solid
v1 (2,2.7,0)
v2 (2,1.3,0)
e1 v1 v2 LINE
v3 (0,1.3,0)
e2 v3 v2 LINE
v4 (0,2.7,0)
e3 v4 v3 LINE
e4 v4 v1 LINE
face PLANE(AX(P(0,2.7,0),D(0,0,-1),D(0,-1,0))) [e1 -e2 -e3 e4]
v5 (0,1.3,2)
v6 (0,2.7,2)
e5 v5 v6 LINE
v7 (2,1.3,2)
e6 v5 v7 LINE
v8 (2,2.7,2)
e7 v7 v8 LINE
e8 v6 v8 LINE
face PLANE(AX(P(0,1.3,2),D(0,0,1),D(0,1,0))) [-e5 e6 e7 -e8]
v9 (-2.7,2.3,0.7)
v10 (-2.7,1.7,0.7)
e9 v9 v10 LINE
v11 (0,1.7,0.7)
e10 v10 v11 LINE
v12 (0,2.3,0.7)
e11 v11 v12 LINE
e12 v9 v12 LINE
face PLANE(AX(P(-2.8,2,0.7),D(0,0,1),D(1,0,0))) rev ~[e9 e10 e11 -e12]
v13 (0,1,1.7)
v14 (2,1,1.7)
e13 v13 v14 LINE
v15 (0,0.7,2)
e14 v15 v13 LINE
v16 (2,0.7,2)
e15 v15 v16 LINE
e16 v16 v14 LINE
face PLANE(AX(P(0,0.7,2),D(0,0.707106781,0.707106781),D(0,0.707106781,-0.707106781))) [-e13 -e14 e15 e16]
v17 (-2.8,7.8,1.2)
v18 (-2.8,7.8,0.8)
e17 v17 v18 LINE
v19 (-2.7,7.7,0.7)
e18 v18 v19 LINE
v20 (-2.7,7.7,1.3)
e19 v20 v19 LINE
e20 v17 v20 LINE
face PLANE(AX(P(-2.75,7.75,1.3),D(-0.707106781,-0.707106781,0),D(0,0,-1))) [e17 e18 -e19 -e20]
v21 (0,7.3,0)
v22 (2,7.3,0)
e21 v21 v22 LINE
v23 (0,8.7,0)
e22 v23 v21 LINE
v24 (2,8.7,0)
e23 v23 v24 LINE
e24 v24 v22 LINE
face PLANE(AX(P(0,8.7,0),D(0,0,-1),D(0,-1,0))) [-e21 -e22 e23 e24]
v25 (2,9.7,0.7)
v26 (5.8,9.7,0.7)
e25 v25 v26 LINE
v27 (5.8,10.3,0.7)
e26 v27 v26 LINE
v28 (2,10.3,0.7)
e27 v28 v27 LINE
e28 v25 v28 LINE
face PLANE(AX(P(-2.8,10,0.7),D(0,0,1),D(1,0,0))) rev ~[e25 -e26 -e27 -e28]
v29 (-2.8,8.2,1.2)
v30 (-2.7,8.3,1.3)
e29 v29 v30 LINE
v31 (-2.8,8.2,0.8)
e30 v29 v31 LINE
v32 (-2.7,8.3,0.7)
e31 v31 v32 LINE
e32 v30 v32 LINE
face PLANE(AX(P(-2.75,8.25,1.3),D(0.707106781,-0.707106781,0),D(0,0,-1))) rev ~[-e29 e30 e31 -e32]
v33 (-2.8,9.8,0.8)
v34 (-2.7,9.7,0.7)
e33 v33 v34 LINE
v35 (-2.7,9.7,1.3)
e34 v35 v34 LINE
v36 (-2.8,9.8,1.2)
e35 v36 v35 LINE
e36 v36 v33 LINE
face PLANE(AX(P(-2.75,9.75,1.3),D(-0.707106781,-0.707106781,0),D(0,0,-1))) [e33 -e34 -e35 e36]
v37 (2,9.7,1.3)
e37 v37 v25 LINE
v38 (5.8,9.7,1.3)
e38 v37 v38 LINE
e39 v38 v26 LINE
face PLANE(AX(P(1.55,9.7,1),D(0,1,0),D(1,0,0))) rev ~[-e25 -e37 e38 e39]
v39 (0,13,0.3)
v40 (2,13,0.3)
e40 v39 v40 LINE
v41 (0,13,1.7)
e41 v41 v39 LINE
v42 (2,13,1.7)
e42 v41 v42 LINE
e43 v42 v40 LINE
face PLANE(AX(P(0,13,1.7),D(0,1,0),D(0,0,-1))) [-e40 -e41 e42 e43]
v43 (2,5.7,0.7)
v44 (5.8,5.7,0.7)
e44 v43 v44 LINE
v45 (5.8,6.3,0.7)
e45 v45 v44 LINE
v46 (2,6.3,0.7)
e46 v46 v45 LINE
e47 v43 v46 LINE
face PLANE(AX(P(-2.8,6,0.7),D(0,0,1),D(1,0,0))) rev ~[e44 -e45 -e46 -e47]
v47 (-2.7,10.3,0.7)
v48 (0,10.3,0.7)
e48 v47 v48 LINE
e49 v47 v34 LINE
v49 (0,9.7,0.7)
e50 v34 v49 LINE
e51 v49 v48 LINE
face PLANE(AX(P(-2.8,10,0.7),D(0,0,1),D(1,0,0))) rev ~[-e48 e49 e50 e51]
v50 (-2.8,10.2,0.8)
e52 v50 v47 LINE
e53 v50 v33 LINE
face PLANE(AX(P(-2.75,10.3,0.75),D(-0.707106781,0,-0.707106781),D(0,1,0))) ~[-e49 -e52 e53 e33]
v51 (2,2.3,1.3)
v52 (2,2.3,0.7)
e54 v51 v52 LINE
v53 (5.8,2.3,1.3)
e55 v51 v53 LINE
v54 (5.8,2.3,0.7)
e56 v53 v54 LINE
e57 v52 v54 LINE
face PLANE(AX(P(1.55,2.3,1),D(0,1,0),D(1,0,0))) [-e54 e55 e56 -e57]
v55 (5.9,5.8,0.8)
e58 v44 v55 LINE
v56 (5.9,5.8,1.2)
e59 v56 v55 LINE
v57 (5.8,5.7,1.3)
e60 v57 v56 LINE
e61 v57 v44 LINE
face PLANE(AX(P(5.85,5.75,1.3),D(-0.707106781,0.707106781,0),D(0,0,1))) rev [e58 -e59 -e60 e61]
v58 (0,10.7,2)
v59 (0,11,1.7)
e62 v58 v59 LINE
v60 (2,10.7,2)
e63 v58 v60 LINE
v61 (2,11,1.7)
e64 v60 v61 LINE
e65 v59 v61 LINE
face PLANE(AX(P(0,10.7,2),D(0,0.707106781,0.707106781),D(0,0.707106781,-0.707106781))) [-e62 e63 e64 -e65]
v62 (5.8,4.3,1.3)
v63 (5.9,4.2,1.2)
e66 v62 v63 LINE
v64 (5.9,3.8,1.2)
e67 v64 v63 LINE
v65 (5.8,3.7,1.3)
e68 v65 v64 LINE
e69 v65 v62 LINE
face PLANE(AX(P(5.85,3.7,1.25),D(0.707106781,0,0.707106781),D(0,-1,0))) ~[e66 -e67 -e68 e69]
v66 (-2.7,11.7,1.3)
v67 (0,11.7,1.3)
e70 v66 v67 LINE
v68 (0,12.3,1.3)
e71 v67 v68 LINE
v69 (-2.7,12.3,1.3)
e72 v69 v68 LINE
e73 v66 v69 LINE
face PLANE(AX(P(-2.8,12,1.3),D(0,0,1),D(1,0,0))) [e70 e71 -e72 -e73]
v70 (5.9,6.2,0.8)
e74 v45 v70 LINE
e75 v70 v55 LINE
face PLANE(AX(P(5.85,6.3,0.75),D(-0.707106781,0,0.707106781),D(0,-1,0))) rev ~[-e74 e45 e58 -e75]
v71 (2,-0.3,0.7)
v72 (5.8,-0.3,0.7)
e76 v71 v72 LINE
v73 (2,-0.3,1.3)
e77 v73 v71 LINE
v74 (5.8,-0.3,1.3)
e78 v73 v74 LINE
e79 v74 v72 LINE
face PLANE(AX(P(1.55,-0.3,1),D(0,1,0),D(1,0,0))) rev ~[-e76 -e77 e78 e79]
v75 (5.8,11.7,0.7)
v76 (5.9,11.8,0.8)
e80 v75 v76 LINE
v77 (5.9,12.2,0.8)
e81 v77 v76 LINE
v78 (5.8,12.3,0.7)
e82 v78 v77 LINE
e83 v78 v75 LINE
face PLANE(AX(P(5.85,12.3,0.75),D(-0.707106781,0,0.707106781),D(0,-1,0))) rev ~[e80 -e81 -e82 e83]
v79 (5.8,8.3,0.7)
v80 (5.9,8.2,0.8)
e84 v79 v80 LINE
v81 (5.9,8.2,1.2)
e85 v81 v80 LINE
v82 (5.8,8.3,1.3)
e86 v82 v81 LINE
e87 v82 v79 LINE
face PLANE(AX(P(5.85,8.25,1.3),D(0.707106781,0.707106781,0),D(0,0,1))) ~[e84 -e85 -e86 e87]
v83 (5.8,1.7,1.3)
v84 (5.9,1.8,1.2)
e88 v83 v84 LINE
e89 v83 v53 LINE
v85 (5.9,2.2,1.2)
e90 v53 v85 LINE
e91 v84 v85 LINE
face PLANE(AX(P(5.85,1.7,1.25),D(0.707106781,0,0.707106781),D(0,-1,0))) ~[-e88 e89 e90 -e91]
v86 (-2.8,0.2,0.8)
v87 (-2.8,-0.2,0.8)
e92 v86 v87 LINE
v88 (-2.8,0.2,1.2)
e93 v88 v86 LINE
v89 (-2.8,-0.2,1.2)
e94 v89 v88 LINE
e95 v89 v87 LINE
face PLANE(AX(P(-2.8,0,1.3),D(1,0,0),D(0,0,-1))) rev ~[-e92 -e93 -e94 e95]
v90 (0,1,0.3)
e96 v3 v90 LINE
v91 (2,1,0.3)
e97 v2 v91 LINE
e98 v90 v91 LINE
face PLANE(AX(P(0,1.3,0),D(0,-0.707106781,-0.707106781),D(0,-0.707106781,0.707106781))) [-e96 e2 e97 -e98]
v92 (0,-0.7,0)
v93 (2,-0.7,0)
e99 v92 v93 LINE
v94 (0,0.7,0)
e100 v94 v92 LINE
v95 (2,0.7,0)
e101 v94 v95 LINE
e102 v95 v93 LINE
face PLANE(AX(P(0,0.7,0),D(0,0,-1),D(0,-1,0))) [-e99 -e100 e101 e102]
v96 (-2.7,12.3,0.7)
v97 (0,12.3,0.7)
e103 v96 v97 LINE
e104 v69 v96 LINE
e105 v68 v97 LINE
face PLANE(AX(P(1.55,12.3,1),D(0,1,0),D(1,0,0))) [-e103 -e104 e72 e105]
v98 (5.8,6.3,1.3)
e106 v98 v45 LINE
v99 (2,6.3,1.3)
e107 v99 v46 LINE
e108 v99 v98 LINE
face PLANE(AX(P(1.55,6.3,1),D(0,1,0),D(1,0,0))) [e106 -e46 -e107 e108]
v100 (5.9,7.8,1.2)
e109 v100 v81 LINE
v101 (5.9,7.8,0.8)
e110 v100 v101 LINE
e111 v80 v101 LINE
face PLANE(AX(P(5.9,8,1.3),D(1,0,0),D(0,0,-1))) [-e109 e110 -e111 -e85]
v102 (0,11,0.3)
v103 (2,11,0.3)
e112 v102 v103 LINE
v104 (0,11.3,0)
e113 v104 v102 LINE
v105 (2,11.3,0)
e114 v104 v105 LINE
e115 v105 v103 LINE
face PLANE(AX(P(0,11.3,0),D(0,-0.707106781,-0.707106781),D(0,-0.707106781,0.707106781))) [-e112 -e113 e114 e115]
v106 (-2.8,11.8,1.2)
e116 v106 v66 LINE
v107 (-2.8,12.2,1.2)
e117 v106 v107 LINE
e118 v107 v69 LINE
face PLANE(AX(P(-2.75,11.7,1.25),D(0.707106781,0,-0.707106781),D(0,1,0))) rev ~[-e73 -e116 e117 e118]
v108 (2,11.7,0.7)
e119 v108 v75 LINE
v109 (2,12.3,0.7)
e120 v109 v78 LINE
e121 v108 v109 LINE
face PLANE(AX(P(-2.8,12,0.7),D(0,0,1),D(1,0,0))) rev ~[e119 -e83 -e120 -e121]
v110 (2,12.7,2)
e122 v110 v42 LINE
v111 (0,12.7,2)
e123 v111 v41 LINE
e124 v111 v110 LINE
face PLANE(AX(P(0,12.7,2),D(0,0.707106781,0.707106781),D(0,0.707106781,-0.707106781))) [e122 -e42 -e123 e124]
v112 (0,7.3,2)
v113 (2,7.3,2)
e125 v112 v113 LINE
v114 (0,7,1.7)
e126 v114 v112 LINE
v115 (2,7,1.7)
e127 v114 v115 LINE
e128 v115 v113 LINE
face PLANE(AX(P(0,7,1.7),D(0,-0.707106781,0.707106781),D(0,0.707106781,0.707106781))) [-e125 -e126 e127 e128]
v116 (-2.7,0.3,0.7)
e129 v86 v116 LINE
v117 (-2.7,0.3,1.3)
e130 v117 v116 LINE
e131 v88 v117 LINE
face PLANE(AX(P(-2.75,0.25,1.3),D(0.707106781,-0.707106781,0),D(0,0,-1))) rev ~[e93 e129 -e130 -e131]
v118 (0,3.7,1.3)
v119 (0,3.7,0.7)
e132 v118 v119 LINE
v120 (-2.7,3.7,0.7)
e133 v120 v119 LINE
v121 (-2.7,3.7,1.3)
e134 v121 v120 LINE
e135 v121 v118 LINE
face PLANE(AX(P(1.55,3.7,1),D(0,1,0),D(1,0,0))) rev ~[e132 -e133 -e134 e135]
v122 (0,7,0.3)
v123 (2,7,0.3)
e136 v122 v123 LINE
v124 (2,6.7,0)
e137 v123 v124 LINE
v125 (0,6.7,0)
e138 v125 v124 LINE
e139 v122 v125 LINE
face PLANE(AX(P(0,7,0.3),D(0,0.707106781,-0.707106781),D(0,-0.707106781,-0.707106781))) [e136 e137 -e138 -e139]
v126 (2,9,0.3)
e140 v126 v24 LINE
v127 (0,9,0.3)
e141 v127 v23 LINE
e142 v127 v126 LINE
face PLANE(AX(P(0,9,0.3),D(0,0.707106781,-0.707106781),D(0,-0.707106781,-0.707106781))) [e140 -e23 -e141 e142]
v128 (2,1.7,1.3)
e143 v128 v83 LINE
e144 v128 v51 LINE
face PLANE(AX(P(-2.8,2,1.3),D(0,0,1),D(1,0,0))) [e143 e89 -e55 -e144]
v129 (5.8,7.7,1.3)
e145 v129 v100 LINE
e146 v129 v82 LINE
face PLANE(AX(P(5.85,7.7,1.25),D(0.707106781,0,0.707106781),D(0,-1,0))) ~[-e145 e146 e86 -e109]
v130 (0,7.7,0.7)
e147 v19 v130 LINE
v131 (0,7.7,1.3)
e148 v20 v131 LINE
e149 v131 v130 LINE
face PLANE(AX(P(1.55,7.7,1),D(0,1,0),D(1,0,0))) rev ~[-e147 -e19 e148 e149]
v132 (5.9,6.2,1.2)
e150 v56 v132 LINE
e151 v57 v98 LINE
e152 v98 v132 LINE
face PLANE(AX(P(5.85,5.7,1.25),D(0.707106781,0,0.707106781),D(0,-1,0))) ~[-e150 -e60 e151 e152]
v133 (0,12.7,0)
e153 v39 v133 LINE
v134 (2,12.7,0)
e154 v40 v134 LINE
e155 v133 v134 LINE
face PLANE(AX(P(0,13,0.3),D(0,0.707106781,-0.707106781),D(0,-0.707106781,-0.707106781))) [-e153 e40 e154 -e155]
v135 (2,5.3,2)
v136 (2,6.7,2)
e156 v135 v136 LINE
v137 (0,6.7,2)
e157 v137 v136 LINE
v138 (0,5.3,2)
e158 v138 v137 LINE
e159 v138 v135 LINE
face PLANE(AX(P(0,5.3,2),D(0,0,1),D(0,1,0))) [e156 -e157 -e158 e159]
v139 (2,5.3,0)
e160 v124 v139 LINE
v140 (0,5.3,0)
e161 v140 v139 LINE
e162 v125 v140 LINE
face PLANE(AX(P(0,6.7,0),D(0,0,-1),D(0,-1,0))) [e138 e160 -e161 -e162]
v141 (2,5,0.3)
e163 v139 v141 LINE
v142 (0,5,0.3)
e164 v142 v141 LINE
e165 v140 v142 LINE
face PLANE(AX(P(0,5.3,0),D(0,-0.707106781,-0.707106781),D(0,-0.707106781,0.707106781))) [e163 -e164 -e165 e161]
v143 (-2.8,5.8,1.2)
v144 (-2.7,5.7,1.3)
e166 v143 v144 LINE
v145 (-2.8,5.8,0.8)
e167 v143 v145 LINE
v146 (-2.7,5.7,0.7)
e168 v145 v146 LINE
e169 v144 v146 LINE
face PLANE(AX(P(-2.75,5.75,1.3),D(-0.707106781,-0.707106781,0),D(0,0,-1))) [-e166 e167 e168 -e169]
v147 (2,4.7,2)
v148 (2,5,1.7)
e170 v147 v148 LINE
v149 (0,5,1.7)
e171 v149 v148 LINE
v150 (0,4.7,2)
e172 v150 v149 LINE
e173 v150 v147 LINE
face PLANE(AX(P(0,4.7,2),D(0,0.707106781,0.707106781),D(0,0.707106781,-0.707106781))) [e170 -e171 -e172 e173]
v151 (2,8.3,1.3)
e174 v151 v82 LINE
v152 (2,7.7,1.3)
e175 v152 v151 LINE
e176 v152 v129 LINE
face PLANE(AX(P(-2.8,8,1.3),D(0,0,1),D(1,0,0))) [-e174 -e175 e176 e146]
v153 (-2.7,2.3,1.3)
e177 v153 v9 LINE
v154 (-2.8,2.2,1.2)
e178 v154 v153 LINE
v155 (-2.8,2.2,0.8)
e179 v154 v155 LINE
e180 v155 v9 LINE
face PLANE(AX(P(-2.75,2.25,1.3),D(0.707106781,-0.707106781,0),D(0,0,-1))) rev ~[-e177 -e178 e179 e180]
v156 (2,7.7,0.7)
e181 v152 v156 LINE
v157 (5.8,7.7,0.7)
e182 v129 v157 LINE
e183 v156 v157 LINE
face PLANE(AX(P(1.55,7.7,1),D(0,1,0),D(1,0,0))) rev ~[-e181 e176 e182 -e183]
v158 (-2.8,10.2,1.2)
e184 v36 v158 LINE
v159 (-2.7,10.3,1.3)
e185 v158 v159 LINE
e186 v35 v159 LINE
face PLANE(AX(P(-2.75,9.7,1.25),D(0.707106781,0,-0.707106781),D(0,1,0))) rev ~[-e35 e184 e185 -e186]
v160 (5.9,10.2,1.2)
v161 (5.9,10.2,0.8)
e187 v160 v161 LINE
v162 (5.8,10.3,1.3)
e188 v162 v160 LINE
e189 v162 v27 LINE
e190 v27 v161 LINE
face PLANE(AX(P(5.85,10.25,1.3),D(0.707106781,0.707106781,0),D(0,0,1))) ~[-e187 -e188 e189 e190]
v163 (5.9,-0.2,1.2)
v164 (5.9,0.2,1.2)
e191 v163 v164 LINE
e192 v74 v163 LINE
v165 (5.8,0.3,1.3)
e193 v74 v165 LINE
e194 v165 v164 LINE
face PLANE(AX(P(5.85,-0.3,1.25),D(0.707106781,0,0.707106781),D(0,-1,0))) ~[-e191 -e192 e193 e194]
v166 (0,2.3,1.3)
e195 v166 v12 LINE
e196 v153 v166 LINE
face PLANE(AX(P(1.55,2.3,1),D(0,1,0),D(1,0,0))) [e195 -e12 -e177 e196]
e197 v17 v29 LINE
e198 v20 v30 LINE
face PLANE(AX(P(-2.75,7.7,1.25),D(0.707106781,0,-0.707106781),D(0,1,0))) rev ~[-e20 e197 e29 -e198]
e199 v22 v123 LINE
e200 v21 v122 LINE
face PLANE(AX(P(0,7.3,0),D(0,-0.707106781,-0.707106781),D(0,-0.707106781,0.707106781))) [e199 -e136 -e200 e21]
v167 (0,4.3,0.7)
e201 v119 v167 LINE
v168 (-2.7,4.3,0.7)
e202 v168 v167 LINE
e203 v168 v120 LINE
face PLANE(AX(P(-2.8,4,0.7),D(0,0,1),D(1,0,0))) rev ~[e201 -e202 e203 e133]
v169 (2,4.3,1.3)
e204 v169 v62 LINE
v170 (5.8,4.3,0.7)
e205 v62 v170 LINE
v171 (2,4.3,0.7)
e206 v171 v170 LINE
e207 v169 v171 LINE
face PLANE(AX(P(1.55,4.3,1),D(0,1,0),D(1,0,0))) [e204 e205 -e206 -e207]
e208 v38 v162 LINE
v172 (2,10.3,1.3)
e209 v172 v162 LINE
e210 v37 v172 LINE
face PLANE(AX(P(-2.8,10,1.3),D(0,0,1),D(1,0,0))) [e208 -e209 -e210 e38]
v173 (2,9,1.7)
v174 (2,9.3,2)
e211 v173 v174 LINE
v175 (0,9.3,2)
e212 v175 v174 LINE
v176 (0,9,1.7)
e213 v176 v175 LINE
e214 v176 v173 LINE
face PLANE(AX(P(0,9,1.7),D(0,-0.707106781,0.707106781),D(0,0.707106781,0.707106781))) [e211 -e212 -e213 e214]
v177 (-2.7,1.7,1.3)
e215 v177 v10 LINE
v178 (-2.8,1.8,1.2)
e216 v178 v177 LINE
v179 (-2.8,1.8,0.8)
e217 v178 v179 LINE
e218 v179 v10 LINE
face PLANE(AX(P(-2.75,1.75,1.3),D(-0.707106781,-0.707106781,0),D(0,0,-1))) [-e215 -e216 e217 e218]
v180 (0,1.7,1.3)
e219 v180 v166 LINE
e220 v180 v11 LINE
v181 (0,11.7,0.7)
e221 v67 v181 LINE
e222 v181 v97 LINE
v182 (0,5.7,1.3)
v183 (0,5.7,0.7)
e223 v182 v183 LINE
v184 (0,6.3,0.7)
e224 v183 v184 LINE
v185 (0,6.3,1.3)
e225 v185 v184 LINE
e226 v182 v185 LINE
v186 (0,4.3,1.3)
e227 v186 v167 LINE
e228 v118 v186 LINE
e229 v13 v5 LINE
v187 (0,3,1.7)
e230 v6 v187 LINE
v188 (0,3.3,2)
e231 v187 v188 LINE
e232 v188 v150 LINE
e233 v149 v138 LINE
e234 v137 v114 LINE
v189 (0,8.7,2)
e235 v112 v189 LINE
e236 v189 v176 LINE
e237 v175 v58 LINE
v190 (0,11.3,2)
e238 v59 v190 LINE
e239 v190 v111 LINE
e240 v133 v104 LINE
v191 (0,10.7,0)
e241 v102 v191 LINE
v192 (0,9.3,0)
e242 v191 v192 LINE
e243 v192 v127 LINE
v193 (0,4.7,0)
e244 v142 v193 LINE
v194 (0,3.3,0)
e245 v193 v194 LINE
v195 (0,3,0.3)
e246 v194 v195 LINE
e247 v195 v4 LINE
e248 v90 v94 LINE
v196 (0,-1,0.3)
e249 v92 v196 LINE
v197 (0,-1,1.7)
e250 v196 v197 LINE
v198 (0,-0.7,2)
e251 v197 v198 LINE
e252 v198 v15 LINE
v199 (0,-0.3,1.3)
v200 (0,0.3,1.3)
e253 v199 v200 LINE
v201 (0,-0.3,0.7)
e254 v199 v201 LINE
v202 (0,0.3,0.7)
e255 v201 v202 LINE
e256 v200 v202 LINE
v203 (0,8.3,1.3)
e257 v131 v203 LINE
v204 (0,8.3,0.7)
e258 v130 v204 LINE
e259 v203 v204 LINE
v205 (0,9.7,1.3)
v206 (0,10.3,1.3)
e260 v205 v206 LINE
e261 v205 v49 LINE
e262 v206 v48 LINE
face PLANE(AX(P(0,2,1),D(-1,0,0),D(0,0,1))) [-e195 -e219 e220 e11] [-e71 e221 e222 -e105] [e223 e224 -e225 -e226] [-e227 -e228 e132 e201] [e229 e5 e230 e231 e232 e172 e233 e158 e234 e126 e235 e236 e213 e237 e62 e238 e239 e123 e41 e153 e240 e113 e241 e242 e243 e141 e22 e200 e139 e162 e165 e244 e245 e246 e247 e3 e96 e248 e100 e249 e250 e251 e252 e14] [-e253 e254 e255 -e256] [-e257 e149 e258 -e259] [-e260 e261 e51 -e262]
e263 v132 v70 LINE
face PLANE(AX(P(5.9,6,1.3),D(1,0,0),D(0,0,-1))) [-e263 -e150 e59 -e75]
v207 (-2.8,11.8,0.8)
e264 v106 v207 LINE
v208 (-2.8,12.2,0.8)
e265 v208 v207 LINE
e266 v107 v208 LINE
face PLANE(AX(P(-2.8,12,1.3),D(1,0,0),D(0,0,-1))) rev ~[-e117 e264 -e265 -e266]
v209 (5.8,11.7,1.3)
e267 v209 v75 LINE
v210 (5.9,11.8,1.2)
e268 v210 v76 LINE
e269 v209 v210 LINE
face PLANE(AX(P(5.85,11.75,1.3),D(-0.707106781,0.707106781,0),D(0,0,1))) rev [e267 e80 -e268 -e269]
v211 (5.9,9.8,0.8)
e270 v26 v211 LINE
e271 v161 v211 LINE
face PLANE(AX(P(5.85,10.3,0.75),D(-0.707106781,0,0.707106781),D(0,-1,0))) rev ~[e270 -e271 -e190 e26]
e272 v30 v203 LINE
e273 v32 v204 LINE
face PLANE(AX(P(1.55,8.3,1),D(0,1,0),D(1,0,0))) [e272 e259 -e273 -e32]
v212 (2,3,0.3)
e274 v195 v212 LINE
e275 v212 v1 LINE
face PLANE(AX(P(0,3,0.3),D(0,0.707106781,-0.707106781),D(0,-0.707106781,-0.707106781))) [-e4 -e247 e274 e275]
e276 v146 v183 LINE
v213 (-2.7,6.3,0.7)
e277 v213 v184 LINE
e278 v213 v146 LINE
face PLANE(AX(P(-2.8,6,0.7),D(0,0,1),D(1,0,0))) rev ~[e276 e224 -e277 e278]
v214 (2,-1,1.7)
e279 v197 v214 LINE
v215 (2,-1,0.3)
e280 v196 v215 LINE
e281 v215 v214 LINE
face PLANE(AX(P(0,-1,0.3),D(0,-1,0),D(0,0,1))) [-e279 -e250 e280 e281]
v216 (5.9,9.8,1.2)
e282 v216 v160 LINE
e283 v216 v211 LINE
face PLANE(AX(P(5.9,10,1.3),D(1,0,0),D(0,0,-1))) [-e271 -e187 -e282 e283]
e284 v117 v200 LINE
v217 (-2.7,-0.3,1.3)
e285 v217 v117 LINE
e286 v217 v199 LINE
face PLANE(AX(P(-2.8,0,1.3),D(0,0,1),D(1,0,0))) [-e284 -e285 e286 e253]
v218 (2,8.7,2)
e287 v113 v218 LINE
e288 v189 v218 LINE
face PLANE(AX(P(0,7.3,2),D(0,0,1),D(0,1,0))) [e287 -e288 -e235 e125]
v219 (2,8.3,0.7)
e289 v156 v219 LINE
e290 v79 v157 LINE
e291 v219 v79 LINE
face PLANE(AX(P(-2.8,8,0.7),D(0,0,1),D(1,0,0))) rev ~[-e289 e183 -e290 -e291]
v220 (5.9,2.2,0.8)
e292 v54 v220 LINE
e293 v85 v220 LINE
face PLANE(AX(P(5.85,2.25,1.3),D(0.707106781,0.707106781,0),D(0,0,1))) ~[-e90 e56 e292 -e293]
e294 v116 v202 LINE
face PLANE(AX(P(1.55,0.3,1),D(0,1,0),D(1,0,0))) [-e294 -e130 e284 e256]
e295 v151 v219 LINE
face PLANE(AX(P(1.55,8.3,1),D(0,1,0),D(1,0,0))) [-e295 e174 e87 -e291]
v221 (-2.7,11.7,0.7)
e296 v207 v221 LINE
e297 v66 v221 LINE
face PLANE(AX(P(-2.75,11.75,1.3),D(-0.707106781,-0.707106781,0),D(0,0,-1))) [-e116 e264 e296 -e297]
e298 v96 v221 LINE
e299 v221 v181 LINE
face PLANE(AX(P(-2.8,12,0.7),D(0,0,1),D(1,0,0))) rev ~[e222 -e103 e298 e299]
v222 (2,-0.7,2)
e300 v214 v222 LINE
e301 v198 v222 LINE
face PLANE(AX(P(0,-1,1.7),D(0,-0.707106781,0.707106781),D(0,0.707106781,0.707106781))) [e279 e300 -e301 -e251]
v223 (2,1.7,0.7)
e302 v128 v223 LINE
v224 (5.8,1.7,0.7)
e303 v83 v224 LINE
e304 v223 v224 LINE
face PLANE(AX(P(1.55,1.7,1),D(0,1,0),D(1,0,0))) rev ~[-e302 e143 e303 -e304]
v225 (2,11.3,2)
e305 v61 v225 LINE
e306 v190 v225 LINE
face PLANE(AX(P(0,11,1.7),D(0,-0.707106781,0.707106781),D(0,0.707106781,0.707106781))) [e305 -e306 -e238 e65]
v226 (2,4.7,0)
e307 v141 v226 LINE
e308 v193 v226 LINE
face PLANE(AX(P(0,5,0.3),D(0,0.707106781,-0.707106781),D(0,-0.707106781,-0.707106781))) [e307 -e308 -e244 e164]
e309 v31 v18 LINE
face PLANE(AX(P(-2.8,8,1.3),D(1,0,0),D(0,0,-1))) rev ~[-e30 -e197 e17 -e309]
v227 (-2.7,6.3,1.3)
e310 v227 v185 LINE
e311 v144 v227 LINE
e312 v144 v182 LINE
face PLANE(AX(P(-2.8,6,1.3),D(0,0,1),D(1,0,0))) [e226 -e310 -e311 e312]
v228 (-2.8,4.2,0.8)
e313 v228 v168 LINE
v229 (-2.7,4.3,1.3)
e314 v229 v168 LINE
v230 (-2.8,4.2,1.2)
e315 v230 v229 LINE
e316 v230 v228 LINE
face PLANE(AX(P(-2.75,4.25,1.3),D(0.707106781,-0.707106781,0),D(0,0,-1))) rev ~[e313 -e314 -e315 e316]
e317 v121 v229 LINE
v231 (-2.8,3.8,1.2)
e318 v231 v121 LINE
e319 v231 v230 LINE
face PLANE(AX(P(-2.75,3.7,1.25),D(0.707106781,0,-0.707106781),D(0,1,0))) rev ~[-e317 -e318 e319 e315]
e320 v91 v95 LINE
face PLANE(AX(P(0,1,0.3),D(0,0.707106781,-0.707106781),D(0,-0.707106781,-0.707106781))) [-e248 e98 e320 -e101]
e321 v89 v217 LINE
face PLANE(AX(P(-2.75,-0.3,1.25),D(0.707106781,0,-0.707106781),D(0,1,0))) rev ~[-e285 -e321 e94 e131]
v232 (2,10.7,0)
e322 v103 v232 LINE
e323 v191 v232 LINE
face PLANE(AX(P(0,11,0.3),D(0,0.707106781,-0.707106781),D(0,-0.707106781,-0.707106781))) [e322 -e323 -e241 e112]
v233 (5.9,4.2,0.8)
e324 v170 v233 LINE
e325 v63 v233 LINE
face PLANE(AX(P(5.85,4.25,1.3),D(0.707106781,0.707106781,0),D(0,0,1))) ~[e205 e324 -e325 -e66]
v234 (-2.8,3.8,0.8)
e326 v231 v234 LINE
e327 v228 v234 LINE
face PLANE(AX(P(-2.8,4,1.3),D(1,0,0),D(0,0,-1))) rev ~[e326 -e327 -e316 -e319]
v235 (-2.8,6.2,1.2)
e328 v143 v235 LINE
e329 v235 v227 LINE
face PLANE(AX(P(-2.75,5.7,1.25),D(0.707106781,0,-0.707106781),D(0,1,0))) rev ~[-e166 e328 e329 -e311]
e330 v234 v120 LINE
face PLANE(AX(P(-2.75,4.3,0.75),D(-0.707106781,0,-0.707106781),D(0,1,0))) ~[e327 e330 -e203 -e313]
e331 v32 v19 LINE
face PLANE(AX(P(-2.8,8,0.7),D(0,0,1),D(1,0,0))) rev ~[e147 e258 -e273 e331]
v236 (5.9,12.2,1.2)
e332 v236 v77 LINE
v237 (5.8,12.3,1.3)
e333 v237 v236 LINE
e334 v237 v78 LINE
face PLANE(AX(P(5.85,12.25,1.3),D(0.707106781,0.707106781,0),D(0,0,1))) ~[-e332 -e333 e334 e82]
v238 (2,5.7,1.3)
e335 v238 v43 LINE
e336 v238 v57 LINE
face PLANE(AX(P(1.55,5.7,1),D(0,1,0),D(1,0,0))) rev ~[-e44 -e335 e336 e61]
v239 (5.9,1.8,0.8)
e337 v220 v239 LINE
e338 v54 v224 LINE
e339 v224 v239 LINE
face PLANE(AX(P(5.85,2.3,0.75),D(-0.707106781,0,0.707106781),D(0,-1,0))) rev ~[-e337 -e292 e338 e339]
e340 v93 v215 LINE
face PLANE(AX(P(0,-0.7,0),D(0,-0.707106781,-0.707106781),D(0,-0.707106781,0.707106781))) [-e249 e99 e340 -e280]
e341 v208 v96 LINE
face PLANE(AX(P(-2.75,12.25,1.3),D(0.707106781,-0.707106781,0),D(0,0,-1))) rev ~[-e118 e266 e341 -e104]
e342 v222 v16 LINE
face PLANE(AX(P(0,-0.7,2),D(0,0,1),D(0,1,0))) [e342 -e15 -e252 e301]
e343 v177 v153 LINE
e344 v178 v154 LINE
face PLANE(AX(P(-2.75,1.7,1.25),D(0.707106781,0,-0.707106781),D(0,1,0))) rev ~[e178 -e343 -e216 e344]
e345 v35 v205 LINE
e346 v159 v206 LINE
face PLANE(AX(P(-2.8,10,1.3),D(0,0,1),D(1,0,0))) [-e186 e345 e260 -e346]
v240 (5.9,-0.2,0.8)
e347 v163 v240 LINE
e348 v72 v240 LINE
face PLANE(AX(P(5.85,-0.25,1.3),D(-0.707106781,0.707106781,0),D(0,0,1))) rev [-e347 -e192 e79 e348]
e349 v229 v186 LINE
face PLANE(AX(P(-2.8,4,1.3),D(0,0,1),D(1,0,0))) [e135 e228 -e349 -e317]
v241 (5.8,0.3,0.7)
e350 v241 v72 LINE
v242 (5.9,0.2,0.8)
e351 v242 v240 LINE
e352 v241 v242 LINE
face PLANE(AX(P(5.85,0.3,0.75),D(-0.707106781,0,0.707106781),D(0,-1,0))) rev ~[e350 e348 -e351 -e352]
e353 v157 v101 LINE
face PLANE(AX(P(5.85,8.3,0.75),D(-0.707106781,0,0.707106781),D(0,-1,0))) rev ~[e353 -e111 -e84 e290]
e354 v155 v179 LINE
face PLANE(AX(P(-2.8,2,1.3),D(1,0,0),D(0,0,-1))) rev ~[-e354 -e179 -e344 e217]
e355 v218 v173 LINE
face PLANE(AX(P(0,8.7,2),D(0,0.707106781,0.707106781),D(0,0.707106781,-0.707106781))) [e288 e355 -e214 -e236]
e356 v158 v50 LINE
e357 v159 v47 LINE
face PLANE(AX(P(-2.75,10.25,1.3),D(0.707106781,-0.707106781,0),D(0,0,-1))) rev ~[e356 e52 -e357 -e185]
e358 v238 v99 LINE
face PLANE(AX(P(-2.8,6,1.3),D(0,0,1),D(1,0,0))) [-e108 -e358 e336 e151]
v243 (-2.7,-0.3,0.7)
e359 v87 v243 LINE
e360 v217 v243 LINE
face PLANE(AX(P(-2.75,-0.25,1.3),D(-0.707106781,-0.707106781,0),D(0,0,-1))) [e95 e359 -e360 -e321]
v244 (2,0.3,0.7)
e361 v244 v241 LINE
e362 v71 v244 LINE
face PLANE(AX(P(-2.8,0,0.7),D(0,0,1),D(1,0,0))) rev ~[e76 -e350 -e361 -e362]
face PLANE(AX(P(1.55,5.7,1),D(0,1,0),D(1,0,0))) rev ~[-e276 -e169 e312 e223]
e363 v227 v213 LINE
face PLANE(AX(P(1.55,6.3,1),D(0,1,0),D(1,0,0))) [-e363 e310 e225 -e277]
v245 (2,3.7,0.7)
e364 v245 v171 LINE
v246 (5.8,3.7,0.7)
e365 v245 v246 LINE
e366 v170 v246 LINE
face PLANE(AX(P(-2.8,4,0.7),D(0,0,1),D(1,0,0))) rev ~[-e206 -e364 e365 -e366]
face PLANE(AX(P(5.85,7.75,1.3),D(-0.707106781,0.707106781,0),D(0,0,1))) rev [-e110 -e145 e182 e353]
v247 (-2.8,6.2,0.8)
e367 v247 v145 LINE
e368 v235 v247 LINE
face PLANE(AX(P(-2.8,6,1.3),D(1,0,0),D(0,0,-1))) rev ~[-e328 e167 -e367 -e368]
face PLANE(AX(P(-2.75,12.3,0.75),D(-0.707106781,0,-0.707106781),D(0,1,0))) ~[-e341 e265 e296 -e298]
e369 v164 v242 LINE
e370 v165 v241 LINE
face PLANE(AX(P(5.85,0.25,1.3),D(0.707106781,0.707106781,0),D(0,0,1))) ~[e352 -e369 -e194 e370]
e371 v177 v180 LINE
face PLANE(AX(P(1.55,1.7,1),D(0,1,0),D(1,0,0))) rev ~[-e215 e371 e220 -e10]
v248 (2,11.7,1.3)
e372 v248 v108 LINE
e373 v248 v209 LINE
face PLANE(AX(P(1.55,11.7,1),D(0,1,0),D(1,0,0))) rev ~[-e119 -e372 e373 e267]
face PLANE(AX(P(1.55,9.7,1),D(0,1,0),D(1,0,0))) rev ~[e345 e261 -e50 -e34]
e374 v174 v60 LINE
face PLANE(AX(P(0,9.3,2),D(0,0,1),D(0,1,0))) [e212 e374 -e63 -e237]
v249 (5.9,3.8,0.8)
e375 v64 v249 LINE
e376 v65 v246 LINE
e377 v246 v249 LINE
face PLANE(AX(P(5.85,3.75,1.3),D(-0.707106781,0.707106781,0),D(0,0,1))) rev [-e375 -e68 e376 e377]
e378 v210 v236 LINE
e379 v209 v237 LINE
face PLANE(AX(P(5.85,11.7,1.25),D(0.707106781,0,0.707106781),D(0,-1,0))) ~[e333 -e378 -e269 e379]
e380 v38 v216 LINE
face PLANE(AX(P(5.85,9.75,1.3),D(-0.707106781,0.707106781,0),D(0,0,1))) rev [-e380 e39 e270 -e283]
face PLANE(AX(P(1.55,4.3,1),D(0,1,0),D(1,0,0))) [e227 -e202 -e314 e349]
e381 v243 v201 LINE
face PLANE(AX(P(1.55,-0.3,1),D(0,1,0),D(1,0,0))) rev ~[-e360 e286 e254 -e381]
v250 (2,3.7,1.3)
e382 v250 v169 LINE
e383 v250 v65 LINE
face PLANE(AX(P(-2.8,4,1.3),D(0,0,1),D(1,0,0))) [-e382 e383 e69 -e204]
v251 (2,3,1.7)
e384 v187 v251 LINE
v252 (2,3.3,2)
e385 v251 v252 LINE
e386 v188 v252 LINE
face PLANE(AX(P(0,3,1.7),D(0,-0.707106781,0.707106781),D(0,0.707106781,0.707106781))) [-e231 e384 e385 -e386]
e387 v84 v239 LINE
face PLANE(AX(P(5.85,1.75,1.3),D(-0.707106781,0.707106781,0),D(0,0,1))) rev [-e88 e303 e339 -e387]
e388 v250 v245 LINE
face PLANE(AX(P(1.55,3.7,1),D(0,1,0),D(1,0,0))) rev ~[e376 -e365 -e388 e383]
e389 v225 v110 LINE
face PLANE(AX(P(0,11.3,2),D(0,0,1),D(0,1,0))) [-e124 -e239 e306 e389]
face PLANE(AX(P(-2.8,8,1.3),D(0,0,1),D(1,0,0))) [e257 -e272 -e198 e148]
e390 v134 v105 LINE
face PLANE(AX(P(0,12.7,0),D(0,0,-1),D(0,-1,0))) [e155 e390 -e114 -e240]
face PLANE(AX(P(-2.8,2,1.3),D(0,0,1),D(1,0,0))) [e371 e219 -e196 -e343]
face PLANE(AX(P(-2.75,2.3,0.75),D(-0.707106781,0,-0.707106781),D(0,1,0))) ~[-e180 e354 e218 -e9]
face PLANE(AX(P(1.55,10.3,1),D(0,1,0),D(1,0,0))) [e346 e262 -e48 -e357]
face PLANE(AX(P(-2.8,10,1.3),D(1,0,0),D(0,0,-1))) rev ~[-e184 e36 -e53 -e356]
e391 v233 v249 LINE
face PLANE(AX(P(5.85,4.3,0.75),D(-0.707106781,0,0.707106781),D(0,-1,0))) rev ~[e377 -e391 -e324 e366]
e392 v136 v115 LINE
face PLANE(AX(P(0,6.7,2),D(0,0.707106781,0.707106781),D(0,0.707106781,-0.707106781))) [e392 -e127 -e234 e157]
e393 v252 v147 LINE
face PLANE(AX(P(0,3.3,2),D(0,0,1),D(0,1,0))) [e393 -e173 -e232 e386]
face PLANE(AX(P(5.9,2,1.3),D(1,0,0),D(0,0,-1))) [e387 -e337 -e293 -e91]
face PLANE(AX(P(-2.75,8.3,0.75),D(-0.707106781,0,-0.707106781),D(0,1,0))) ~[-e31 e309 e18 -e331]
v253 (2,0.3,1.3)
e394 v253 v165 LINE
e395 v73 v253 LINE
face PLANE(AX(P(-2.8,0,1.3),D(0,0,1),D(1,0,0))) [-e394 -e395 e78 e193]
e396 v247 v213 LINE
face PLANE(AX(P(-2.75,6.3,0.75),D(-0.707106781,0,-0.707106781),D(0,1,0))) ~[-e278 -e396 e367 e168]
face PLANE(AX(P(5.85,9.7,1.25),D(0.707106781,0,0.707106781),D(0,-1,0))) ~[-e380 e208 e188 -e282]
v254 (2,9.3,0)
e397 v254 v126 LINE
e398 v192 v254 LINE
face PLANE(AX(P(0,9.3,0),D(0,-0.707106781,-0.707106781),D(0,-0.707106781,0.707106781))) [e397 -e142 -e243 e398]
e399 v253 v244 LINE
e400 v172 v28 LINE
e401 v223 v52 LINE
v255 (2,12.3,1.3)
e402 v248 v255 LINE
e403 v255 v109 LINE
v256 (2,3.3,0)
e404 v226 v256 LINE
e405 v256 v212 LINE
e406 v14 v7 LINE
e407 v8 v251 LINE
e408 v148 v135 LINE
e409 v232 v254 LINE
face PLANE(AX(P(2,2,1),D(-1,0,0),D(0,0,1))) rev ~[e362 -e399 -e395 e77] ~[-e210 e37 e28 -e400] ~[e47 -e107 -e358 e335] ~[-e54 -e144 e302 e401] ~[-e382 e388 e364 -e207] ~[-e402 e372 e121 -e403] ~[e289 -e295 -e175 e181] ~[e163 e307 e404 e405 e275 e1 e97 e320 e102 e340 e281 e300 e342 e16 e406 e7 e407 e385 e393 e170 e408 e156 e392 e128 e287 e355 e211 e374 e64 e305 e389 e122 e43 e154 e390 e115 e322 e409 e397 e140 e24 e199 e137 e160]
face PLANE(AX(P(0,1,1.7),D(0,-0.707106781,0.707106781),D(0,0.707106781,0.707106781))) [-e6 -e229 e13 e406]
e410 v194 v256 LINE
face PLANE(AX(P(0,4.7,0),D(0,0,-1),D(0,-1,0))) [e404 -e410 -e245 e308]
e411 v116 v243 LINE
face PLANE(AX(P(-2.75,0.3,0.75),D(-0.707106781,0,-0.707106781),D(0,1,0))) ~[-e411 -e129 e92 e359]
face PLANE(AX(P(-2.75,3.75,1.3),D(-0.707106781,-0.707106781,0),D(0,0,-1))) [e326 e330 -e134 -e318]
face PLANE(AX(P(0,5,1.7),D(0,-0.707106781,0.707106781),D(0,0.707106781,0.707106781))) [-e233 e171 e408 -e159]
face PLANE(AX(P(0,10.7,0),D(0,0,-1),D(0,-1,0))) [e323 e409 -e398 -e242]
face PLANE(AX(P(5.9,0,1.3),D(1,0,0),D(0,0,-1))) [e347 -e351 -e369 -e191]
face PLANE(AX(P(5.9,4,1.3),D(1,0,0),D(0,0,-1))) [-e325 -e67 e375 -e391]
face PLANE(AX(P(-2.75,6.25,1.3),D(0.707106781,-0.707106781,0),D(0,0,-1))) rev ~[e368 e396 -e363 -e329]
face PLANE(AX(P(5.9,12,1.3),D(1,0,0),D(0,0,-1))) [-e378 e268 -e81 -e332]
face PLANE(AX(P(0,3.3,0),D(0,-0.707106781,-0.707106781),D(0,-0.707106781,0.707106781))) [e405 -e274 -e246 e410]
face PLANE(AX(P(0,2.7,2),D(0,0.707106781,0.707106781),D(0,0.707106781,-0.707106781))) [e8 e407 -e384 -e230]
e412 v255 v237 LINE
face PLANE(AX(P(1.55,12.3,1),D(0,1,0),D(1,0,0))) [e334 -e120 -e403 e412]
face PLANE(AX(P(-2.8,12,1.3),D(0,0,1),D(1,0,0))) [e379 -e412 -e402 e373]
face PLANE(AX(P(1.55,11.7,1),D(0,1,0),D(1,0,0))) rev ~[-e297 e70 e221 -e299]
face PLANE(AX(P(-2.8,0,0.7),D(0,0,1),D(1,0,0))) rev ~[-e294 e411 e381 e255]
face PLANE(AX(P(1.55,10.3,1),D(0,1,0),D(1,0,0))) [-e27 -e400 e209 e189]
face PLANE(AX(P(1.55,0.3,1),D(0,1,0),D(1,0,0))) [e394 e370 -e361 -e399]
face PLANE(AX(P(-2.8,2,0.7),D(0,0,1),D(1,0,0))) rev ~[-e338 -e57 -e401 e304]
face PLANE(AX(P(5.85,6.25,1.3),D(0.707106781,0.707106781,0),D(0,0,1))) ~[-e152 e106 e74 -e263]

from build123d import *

# Parameters (mm, degrees)
PLASTIC_DEPTH   = 2
SKETCH2_W       = 8.7
SKETCH2_H       = 0.6
CONTACT_DEPTH   = 0.3
CHAMFER1_SIZE   = 0.1
LPATTERN1_COUNT = 7
LPATTERN1_PITCH = 2


with BuildPart() as part:
    # Sketch1 → Plastic (new body)
    with BuildSketch(Plane(origin=(0, 0, 0), x_dir=(0, 0, -1), z_dir=(1, 0, 0))):
        Polygon((-1.7, 1), (-0.3, 1), (0, 0.7), (0, -0.7), (-0.3, -1), (-1.7, -1), (-2, -0.7), (-2, 0.7), align=None)
    extrude(amount=PLASTIC_DEPTH)

    # Sketch2 → Contact (add, symmetric)
    with BuildSketch(Plane(origin=(0, 0, 0), x_dir=(1, 0, 0), z_dir=(0, 1, 0))):
        with Locations((1.55, -1)):
            Rectangle(SKETCH2_W, SKETCH2_H)
    extrude(amount=CONTACT_DEPTH, both=True)

    # Chamfer1
    chamfer1_edges = [part.edges().sort_by_distance(p)[0] for p in [
        (5.9, 0, 0.7),
        (5.9, 0.3, 1),
        (-2.8, 0, 1.3),
        (5.9, -0.3, 1),
        (5.9, 0, 1.3),
        (-2.8, -0.3, 1),
        (-2.8, 0, 0.7),
        (-2.8, 0.3, 1),
    ]]
    chamfer(chamfer1_edges, length=CHAMFER1_SIZE)

    # LPattern1: part ×7


with BuildPart() as part_1:
    add(part.part)
    with Locations(*[(0, i * LPATTERN1_PITCH, 0) for i in range(1, LPATTERN1_COUNT)]):
        add(part.part)


solid = part_1.part
